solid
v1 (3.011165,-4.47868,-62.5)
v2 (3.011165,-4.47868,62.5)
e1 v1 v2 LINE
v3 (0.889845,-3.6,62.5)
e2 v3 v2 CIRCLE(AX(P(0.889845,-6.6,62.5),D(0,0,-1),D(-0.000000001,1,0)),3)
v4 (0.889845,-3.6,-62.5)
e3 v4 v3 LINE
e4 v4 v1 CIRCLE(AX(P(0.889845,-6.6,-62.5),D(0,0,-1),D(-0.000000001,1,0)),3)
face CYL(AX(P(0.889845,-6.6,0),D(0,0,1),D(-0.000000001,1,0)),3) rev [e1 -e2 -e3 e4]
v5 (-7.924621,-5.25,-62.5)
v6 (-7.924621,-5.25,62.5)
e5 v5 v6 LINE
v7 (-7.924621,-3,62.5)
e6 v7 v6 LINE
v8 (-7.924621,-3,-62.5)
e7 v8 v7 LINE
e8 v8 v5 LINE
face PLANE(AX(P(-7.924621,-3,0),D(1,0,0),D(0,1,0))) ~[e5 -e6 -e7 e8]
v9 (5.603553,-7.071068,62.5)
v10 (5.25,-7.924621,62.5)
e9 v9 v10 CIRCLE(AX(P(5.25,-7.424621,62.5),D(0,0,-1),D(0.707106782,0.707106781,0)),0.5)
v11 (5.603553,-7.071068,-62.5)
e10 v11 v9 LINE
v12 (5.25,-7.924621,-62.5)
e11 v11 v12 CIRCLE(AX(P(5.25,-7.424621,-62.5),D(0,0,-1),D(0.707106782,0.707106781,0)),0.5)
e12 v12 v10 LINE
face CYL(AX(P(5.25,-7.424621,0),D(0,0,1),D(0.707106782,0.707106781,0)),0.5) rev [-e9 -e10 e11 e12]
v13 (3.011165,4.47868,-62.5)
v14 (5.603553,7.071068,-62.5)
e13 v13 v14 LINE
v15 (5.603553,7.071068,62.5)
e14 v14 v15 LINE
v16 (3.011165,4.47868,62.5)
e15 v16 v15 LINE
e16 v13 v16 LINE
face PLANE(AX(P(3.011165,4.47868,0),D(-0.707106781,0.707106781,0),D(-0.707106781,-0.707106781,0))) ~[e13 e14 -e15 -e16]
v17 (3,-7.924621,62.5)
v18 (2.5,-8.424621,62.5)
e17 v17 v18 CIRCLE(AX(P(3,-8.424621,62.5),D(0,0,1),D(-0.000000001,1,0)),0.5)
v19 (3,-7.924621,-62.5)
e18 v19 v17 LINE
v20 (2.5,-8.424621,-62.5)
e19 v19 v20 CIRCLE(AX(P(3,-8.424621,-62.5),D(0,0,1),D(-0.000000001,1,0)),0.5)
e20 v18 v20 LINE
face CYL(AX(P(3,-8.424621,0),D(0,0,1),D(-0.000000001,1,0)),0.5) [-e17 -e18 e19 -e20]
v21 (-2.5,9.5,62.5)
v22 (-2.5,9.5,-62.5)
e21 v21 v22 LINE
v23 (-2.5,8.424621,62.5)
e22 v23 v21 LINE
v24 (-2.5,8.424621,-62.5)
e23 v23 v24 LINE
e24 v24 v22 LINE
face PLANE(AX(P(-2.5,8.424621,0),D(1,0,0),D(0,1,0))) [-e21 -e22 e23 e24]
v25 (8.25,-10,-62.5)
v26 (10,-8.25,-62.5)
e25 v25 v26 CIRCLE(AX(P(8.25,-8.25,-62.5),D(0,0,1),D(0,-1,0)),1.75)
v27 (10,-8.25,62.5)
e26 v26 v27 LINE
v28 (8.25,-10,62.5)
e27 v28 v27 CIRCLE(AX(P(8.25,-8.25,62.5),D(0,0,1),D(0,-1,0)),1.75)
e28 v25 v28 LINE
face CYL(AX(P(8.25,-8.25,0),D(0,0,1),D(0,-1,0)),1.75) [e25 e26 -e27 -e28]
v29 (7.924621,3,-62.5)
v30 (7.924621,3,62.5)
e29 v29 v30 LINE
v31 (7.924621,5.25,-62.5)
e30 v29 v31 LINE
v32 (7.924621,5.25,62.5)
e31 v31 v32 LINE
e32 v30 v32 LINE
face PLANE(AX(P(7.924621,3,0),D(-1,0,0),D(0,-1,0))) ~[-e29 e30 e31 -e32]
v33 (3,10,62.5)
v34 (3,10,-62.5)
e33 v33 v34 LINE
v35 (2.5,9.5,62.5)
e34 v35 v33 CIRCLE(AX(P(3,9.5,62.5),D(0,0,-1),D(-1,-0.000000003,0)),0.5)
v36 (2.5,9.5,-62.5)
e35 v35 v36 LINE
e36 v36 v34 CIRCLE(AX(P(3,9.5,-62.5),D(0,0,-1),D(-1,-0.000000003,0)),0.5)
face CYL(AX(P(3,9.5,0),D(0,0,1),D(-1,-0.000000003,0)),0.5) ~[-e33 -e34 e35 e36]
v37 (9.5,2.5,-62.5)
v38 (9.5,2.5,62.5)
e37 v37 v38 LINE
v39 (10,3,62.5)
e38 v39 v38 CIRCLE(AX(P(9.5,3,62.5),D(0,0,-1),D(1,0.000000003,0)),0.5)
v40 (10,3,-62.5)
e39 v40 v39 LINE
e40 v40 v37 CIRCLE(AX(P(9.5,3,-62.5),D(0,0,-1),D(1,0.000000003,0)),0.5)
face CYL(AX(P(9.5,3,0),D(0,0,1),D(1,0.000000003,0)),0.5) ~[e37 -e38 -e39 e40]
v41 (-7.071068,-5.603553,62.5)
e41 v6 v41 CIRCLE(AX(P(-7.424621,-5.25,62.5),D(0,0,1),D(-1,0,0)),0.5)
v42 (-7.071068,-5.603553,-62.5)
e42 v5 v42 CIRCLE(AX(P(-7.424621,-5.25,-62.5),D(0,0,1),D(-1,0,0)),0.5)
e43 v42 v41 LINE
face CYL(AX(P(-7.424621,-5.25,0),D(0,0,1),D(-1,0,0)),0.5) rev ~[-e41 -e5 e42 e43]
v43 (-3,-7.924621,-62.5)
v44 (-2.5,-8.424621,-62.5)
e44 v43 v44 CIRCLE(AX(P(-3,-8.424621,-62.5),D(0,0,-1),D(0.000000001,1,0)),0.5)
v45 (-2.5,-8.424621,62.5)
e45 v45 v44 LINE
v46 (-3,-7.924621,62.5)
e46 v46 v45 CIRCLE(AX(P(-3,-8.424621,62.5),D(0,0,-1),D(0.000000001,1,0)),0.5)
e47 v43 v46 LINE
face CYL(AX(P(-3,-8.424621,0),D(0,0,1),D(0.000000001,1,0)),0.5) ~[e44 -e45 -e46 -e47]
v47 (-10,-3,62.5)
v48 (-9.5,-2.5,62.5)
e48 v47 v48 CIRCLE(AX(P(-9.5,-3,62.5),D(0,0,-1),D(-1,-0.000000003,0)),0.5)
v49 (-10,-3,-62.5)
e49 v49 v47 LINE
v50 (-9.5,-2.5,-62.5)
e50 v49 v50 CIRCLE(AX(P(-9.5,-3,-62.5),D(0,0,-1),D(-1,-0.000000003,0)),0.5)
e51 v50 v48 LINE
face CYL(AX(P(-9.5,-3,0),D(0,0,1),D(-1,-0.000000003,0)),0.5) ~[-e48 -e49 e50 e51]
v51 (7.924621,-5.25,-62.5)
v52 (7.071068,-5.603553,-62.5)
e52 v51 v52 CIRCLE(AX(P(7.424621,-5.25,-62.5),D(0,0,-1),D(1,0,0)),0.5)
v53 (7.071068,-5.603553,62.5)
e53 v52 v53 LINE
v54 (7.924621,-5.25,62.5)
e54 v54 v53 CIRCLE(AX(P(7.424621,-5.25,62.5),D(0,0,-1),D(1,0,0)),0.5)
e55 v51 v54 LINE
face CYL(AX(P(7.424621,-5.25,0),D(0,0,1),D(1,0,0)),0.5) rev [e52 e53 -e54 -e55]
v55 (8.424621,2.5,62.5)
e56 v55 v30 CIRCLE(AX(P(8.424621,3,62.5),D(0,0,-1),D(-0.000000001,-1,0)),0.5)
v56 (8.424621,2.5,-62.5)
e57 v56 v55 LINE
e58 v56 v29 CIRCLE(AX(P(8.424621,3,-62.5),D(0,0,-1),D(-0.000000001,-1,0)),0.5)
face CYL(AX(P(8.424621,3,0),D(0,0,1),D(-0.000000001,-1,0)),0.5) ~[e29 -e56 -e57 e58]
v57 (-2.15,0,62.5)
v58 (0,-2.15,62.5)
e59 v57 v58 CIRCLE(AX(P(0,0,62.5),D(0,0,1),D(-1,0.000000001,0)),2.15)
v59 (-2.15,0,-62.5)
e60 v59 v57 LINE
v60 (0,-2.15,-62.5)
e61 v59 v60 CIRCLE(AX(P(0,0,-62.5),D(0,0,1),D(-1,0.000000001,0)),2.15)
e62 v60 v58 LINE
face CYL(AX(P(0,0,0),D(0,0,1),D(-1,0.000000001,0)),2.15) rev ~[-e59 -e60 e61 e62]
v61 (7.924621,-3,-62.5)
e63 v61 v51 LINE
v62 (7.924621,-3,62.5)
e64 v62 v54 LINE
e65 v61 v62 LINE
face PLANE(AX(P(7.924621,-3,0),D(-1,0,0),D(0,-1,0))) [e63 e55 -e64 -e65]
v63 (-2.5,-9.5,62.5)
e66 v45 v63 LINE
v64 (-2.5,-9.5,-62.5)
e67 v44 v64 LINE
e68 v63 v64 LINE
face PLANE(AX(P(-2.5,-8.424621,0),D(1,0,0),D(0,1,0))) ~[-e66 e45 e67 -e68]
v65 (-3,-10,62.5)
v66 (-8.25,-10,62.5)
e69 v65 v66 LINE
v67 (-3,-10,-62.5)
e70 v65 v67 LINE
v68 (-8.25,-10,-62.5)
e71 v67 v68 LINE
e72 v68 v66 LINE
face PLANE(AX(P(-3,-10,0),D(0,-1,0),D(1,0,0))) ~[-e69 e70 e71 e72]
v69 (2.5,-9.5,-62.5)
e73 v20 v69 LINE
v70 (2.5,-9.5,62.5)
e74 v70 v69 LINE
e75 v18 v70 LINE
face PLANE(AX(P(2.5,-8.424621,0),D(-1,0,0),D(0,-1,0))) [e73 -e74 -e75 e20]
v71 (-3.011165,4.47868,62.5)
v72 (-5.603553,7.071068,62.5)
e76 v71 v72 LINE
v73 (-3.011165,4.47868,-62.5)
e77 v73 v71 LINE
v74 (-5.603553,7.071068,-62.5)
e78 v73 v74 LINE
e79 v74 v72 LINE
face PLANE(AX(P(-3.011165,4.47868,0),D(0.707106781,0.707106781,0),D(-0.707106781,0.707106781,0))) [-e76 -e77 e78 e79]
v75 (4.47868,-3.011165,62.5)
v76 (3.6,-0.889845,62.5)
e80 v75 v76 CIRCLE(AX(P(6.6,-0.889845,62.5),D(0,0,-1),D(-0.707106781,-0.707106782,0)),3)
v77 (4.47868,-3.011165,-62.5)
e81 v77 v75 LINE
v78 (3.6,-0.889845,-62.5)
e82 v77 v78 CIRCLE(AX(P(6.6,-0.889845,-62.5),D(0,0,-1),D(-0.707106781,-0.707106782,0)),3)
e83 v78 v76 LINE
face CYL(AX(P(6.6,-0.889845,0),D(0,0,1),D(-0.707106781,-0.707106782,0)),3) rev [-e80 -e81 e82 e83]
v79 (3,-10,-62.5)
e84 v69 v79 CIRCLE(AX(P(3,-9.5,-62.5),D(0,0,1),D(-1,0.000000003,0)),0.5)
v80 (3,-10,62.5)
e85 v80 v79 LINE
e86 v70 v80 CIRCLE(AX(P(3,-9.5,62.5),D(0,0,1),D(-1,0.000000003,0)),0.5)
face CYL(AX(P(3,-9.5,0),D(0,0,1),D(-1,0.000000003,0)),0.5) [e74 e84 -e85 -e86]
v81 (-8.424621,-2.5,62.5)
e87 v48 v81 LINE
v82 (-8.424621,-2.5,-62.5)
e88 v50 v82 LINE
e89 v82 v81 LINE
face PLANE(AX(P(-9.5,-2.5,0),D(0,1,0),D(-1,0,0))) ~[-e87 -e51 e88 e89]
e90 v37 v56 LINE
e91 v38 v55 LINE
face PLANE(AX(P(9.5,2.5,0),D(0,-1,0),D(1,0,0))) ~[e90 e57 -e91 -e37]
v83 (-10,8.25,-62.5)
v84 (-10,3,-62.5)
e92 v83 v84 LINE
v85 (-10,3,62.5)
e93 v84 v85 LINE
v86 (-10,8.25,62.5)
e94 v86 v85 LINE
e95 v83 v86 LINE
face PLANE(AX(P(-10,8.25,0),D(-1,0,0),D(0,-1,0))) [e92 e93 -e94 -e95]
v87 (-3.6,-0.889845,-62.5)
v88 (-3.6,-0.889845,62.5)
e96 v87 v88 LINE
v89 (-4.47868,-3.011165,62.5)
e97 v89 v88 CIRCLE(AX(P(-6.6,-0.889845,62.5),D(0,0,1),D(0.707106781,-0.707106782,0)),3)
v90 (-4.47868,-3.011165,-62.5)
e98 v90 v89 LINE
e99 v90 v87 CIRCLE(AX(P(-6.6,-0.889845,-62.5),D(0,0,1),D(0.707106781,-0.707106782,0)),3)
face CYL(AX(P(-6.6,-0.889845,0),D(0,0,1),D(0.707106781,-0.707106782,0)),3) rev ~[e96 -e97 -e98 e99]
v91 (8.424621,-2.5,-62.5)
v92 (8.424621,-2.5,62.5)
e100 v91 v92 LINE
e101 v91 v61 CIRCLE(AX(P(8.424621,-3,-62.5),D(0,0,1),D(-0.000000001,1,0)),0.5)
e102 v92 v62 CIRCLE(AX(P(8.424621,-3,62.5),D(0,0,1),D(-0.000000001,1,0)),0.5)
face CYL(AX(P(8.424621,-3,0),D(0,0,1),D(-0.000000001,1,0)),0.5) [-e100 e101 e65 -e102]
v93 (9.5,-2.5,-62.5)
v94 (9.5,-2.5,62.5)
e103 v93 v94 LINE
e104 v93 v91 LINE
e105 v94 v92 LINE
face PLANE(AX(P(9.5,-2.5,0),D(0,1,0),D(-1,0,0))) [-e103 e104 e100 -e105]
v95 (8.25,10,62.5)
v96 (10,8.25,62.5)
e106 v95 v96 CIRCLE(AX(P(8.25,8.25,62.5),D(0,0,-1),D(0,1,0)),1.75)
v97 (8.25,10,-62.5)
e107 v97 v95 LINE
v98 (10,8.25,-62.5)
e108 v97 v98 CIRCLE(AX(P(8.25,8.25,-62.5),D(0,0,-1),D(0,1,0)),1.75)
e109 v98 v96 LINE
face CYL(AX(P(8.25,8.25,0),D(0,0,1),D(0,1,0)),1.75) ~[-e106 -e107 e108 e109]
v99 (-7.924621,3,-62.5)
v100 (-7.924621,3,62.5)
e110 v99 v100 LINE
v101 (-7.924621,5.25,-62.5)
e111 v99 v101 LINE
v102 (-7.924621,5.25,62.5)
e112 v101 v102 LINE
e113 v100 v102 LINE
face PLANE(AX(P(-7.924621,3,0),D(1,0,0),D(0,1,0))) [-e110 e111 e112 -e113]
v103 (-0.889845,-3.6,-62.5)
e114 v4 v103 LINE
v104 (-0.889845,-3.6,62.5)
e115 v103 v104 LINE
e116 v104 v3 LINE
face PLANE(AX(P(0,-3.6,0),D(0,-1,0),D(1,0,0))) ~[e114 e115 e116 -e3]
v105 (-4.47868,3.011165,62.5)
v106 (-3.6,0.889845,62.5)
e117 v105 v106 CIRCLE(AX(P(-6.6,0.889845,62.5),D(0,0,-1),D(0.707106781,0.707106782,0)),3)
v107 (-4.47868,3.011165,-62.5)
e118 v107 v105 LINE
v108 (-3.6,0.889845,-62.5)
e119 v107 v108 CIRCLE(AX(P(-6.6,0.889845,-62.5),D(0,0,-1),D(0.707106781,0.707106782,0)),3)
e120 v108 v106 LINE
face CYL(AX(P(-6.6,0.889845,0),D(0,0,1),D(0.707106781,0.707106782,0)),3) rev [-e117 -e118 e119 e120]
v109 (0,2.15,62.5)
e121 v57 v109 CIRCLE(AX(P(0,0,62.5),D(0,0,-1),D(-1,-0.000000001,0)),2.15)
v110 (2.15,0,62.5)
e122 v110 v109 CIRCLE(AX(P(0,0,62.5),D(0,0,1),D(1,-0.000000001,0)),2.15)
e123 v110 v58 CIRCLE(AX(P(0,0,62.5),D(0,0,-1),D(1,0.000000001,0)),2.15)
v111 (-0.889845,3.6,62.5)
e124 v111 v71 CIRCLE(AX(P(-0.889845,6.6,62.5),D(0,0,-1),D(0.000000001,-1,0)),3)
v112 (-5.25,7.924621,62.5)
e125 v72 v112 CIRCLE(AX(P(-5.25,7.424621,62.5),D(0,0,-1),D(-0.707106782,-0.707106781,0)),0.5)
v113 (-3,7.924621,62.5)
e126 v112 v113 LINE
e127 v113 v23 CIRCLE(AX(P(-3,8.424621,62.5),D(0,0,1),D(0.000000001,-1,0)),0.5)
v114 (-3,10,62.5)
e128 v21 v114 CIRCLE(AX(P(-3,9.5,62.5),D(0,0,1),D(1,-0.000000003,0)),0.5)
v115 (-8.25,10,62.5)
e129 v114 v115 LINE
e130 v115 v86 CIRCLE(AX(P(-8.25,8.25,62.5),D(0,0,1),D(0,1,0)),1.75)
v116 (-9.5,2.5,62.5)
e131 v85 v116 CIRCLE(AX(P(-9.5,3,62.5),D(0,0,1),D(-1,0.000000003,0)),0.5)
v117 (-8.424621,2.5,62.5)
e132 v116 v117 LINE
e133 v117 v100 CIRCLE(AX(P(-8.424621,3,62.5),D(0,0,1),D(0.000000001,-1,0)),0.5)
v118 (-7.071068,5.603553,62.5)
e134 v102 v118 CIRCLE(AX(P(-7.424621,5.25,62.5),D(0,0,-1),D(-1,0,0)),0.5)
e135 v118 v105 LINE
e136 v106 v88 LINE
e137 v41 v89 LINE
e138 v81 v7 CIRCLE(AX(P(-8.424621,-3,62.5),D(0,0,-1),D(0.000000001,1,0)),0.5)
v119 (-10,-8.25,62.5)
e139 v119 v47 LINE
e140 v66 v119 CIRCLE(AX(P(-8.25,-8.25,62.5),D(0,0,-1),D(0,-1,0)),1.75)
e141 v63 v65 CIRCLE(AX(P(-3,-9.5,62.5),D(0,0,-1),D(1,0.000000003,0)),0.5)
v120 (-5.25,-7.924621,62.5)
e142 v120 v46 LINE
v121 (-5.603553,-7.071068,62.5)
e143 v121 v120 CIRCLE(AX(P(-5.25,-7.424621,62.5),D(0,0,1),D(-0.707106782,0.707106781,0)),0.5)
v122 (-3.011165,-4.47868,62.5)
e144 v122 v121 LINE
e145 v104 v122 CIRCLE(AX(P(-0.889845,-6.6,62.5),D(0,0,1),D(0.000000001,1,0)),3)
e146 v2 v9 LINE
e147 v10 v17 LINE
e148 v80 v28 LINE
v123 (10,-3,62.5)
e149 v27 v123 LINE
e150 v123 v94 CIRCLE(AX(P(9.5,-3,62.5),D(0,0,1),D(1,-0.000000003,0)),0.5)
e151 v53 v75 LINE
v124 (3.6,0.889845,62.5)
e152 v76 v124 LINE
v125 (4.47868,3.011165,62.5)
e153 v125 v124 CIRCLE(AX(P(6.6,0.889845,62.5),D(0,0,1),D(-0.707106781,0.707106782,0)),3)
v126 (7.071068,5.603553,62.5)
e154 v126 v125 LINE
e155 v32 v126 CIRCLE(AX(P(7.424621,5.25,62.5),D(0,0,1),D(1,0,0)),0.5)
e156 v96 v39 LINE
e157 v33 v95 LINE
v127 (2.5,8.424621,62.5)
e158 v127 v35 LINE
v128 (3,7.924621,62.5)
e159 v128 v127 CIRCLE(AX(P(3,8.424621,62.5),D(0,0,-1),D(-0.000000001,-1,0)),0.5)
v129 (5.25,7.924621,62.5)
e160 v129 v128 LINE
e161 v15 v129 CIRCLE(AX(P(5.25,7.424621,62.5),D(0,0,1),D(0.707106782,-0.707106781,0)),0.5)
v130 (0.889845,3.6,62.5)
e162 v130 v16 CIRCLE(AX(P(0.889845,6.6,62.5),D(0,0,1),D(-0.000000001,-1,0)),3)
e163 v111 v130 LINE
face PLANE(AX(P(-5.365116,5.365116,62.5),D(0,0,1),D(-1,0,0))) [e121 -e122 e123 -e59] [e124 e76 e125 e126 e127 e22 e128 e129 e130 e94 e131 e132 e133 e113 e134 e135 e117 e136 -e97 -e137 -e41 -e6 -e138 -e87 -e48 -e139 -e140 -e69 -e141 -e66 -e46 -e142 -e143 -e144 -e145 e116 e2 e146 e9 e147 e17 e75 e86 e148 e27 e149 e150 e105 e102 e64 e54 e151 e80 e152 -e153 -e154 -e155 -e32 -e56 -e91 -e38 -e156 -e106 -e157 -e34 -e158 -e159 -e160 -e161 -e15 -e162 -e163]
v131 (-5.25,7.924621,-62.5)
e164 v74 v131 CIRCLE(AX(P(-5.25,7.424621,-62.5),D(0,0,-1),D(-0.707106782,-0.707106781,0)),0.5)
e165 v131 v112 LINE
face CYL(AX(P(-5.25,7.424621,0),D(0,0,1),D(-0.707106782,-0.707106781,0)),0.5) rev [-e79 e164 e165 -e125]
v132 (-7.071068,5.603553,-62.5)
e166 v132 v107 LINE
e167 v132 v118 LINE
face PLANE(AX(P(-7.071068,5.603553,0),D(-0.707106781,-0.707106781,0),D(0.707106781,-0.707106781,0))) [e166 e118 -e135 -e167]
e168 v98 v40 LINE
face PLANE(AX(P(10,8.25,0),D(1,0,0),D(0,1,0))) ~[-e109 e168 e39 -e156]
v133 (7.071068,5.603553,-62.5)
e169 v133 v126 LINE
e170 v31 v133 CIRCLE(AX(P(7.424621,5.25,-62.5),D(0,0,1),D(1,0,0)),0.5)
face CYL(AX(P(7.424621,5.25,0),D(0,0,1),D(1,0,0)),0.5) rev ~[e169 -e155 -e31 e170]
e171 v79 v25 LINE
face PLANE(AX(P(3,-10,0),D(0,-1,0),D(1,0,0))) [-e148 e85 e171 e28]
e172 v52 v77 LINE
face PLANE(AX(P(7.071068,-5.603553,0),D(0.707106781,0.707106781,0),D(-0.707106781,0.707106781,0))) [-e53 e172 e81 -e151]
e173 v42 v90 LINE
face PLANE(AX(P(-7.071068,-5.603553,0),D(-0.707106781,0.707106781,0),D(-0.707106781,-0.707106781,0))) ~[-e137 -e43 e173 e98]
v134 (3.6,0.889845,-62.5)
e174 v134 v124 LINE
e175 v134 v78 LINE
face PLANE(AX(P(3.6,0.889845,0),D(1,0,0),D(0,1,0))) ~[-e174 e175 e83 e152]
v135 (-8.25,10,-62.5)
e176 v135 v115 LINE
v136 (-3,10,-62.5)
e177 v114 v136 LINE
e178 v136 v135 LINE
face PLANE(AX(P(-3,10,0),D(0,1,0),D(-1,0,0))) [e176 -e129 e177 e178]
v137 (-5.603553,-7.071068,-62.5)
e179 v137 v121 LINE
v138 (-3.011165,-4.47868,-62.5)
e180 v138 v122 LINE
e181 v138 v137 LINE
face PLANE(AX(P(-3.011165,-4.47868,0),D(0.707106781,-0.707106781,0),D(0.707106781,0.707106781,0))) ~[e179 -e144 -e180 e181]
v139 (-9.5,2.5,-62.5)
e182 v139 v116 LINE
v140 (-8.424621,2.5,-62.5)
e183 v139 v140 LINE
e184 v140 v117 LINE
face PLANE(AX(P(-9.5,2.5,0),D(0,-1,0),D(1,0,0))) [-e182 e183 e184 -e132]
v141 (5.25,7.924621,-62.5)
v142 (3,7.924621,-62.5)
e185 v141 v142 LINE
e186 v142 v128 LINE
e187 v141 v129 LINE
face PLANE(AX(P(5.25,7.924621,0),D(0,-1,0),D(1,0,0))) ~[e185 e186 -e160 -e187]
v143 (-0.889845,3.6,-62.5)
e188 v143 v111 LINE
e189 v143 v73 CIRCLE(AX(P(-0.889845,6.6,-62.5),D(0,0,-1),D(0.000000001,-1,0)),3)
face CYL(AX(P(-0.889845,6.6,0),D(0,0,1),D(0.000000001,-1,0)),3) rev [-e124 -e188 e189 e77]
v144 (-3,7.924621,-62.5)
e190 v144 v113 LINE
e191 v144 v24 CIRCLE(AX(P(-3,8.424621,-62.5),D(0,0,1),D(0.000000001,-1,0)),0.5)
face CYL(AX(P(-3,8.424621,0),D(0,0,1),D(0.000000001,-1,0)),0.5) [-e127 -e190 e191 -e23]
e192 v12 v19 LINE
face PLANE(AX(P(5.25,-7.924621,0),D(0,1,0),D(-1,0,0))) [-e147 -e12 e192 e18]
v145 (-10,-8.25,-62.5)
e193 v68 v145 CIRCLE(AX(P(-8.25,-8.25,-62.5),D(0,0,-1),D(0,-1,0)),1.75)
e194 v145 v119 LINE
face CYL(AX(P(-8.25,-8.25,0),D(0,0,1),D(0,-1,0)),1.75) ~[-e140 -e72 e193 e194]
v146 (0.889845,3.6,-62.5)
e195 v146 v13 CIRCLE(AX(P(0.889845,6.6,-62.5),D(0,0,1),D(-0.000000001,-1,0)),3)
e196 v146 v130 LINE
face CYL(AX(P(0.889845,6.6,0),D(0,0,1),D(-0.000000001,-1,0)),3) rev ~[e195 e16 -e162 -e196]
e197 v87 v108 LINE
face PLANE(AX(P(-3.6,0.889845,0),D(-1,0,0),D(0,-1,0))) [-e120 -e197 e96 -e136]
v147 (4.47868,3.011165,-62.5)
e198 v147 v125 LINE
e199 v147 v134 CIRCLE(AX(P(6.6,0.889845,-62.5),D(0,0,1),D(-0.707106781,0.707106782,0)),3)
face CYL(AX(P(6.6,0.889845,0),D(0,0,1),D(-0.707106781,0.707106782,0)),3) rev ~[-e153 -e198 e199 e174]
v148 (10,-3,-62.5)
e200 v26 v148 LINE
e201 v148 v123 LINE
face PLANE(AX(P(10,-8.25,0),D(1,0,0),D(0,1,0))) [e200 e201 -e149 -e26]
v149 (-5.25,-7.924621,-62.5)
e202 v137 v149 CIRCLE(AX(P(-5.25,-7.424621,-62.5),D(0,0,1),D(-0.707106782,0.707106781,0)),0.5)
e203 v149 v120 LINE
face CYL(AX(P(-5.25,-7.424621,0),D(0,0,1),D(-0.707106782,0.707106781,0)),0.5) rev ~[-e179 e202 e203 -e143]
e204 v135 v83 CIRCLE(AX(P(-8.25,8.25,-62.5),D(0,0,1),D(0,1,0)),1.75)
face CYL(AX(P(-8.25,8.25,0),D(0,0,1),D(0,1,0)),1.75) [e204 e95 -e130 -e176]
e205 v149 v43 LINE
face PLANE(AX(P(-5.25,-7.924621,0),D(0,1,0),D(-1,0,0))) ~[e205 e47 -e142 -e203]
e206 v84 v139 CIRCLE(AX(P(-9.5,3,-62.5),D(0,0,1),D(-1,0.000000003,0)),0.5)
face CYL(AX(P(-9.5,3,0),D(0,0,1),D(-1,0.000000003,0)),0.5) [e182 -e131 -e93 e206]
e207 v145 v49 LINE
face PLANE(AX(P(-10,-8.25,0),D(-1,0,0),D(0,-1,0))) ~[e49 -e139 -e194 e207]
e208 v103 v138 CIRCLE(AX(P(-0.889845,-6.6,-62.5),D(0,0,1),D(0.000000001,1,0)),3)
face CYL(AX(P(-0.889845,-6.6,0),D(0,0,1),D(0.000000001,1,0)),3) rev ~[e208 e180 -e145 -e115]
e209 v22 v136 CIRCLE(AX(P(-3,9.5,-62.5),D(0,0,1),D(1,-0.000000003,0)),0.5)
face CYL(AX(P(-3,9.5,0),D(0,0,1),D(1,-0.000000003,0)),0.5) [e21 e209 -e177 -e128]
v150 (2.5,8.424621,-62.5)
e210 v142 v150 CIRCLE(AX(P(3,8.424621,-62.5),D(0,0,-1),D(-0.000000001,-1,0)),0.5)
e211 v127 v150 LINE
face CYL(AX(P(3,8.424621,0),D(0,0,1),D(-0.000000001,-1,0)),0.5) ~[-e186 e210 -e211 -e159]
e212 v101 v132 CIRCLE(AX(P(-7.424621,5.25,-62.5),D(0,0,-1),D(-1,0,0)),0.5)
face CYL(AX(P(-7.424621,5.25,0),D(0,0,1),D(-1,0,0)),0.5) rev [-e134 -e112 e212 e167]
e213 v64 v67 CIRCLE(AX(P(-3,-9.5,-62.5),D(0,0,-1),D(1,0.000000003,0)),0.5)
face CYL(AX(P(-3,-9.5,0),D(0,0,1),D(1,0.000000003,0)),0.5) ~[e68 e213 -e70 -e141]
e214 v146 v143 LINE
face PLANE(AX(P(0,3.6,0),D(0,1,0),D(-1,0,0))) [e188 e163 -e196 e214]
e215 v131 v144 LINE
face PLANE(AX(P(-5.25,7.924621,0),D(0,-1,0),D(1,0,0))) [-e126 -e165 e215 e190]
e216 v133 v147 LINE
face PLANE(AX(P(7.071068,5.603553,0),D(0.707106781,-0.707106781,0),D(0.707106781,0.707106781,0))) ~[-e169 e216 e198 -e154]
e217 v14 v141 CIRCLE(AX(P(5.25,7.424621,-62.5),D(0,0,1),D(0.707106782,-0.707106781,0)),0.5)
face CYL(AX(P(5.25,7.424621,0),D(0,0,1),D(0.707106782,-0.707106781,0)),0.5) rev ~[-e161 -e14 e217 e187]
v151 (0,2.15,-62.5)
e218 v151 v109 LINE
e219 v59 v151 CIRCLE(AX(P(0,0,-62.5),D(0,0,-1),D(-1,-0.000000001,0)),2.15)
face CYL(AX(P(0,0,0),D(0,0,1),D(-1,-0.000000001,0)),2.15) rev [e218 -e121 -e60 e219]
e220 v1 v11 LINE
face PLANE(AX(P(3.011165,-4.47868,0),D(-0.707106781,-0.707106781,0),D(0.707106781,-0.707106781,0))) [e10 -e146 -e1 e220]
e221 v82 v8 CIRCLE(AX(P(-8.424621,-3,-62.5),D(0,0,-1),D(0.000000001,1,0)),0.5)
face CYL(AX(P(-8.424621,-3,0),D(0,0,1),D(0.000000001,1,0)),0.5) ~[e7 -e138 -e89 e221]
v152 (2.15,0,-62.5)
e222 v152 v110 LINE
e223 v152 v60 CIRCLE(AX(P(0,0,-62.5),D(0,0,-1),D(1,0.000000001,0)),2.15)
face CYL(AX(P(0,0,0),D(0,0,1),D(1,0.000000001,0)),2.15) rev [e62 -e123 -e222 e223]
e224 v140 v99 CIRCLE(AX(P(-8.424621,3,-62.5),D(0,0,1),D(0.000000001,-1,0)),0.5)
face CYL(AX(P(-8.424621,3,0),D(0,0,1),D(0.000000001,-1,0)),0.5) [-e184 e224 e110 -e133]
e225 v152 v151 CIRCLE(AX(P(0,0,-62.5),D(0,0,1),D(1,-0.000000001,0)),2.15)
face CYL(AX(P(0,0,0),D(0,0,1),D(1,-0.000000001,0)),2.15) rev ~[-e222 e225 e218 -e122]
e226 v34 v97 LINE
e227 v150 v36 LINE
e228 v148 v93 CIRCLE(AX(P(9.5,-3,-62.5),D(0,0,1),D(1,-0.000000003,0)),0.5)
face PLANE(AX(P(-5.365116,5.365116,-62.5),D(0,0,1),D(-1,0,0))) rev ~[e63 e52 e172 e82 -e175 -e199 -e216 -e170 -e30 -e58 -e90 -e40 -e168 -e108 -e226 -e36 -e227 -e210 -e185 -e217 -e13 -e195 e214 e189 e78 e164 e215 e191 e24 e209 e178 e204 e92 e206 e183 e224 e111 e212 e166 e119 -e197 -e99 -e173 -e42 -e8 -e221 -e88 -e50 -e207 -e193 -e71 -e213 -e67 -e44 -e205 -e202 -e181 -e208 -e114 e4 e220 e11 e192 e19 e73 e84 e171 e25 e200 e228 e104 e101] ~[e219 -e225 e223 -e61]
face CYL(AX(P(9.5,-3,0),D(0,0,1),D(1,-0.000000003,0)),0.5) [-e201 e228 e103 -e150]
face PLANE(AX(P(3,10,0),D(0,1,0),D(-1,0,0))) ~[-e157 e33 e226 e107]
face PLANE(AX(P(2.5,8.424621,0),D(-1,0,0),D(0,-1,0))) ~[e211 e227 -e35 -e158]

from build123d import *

# Parameters (mm, degrees)
BOSS_EXTRUDE1_DEPTH = 62.5


with BuildPart() as part:
    # Sketch4 → Boss-Extrude1 (new, symmetric)
    with BuildSketch(Plane.XY):
        with BuildLine():
            Line((3, -10), (8.25, -10))
            ThreePointArc((8.25, -10), (9.487436867, -9.487436867), (10, -8.25))
            Line((10, -8.25), (10, -3))
            ThreePointArc((10, -3), (9.853553391, -2.646446609), (9.5, -2.5))
            Line((9.5, -2.5), (8.424621202, -2.5))
            ThreePointArc((8.424621202, -2.5), (8.071067812, -2.646446609), (7.924621202, -3))
            Line((7.924621202, -3), (7.924621202, -5.25))
            ThreePointArc((7.924621202, -5.25), (7.615962919, -5.711939766), (7.071067812, -5.603553391))
            Line((7.071067812, -5.603553391), (4.478679656, -3.011165235))
            ThreePointArc((4.478679656, -3.011165235), (3.828361402, -2.037895189), (3.6, -0.889844892))
            Line((3.6, -0.889844892), (3.6, 0))
            Line((3.6, 0), (2.15, 0))
            ThreePointArc((2.15, 0), (1.52027958, -1.52027958), (0, -2.15))
            Line((0, -2.15), (0, -3.6))
            Line((0, -3.6), (0.889844892, -3.6))
            ThreePointArc((0.889844892, -3.6), (2.037895189, -3.828361402), (3.011165235, -4.478679656))
            Line((3.011165235, -4.478679656), (5.603553391, -7.071067812))
            ThreePointArc((5.603553391, -7.071067812), (5.711939766, -7.615962919), (5.25, -7.924621202))
            Line((5.25, -7.924621202), (3, -7.924621202))
            ThreePointArc((3, -7.924621202), (2.646446609, -8.071067812), (2.5, -8.424621202))
            Line((2.5, -8.424621202), (2.5, -9.5))
            ThreePointArc((2.5, -9.5), (2.646446609, -9.853553391), (3, -10))
        make_face()
    extrude(amount=BOSS_EXTRUDE1_DEPTH, both=True)

    # Mirror1: part across plane


with BuildPart() as part_1:
    add(part.part)
    add(part.part.mirror(Plane(origin=(0, 0, 0), x_dir=(0, 0, 1), z_dir=(1, 0, 0))))

    # Mirror2: part across plane


with BuildPart() as part_2:
    add(part_1.part)
    add(part_1.part.mirror(Plane.ZX))


solid = part_2.part
